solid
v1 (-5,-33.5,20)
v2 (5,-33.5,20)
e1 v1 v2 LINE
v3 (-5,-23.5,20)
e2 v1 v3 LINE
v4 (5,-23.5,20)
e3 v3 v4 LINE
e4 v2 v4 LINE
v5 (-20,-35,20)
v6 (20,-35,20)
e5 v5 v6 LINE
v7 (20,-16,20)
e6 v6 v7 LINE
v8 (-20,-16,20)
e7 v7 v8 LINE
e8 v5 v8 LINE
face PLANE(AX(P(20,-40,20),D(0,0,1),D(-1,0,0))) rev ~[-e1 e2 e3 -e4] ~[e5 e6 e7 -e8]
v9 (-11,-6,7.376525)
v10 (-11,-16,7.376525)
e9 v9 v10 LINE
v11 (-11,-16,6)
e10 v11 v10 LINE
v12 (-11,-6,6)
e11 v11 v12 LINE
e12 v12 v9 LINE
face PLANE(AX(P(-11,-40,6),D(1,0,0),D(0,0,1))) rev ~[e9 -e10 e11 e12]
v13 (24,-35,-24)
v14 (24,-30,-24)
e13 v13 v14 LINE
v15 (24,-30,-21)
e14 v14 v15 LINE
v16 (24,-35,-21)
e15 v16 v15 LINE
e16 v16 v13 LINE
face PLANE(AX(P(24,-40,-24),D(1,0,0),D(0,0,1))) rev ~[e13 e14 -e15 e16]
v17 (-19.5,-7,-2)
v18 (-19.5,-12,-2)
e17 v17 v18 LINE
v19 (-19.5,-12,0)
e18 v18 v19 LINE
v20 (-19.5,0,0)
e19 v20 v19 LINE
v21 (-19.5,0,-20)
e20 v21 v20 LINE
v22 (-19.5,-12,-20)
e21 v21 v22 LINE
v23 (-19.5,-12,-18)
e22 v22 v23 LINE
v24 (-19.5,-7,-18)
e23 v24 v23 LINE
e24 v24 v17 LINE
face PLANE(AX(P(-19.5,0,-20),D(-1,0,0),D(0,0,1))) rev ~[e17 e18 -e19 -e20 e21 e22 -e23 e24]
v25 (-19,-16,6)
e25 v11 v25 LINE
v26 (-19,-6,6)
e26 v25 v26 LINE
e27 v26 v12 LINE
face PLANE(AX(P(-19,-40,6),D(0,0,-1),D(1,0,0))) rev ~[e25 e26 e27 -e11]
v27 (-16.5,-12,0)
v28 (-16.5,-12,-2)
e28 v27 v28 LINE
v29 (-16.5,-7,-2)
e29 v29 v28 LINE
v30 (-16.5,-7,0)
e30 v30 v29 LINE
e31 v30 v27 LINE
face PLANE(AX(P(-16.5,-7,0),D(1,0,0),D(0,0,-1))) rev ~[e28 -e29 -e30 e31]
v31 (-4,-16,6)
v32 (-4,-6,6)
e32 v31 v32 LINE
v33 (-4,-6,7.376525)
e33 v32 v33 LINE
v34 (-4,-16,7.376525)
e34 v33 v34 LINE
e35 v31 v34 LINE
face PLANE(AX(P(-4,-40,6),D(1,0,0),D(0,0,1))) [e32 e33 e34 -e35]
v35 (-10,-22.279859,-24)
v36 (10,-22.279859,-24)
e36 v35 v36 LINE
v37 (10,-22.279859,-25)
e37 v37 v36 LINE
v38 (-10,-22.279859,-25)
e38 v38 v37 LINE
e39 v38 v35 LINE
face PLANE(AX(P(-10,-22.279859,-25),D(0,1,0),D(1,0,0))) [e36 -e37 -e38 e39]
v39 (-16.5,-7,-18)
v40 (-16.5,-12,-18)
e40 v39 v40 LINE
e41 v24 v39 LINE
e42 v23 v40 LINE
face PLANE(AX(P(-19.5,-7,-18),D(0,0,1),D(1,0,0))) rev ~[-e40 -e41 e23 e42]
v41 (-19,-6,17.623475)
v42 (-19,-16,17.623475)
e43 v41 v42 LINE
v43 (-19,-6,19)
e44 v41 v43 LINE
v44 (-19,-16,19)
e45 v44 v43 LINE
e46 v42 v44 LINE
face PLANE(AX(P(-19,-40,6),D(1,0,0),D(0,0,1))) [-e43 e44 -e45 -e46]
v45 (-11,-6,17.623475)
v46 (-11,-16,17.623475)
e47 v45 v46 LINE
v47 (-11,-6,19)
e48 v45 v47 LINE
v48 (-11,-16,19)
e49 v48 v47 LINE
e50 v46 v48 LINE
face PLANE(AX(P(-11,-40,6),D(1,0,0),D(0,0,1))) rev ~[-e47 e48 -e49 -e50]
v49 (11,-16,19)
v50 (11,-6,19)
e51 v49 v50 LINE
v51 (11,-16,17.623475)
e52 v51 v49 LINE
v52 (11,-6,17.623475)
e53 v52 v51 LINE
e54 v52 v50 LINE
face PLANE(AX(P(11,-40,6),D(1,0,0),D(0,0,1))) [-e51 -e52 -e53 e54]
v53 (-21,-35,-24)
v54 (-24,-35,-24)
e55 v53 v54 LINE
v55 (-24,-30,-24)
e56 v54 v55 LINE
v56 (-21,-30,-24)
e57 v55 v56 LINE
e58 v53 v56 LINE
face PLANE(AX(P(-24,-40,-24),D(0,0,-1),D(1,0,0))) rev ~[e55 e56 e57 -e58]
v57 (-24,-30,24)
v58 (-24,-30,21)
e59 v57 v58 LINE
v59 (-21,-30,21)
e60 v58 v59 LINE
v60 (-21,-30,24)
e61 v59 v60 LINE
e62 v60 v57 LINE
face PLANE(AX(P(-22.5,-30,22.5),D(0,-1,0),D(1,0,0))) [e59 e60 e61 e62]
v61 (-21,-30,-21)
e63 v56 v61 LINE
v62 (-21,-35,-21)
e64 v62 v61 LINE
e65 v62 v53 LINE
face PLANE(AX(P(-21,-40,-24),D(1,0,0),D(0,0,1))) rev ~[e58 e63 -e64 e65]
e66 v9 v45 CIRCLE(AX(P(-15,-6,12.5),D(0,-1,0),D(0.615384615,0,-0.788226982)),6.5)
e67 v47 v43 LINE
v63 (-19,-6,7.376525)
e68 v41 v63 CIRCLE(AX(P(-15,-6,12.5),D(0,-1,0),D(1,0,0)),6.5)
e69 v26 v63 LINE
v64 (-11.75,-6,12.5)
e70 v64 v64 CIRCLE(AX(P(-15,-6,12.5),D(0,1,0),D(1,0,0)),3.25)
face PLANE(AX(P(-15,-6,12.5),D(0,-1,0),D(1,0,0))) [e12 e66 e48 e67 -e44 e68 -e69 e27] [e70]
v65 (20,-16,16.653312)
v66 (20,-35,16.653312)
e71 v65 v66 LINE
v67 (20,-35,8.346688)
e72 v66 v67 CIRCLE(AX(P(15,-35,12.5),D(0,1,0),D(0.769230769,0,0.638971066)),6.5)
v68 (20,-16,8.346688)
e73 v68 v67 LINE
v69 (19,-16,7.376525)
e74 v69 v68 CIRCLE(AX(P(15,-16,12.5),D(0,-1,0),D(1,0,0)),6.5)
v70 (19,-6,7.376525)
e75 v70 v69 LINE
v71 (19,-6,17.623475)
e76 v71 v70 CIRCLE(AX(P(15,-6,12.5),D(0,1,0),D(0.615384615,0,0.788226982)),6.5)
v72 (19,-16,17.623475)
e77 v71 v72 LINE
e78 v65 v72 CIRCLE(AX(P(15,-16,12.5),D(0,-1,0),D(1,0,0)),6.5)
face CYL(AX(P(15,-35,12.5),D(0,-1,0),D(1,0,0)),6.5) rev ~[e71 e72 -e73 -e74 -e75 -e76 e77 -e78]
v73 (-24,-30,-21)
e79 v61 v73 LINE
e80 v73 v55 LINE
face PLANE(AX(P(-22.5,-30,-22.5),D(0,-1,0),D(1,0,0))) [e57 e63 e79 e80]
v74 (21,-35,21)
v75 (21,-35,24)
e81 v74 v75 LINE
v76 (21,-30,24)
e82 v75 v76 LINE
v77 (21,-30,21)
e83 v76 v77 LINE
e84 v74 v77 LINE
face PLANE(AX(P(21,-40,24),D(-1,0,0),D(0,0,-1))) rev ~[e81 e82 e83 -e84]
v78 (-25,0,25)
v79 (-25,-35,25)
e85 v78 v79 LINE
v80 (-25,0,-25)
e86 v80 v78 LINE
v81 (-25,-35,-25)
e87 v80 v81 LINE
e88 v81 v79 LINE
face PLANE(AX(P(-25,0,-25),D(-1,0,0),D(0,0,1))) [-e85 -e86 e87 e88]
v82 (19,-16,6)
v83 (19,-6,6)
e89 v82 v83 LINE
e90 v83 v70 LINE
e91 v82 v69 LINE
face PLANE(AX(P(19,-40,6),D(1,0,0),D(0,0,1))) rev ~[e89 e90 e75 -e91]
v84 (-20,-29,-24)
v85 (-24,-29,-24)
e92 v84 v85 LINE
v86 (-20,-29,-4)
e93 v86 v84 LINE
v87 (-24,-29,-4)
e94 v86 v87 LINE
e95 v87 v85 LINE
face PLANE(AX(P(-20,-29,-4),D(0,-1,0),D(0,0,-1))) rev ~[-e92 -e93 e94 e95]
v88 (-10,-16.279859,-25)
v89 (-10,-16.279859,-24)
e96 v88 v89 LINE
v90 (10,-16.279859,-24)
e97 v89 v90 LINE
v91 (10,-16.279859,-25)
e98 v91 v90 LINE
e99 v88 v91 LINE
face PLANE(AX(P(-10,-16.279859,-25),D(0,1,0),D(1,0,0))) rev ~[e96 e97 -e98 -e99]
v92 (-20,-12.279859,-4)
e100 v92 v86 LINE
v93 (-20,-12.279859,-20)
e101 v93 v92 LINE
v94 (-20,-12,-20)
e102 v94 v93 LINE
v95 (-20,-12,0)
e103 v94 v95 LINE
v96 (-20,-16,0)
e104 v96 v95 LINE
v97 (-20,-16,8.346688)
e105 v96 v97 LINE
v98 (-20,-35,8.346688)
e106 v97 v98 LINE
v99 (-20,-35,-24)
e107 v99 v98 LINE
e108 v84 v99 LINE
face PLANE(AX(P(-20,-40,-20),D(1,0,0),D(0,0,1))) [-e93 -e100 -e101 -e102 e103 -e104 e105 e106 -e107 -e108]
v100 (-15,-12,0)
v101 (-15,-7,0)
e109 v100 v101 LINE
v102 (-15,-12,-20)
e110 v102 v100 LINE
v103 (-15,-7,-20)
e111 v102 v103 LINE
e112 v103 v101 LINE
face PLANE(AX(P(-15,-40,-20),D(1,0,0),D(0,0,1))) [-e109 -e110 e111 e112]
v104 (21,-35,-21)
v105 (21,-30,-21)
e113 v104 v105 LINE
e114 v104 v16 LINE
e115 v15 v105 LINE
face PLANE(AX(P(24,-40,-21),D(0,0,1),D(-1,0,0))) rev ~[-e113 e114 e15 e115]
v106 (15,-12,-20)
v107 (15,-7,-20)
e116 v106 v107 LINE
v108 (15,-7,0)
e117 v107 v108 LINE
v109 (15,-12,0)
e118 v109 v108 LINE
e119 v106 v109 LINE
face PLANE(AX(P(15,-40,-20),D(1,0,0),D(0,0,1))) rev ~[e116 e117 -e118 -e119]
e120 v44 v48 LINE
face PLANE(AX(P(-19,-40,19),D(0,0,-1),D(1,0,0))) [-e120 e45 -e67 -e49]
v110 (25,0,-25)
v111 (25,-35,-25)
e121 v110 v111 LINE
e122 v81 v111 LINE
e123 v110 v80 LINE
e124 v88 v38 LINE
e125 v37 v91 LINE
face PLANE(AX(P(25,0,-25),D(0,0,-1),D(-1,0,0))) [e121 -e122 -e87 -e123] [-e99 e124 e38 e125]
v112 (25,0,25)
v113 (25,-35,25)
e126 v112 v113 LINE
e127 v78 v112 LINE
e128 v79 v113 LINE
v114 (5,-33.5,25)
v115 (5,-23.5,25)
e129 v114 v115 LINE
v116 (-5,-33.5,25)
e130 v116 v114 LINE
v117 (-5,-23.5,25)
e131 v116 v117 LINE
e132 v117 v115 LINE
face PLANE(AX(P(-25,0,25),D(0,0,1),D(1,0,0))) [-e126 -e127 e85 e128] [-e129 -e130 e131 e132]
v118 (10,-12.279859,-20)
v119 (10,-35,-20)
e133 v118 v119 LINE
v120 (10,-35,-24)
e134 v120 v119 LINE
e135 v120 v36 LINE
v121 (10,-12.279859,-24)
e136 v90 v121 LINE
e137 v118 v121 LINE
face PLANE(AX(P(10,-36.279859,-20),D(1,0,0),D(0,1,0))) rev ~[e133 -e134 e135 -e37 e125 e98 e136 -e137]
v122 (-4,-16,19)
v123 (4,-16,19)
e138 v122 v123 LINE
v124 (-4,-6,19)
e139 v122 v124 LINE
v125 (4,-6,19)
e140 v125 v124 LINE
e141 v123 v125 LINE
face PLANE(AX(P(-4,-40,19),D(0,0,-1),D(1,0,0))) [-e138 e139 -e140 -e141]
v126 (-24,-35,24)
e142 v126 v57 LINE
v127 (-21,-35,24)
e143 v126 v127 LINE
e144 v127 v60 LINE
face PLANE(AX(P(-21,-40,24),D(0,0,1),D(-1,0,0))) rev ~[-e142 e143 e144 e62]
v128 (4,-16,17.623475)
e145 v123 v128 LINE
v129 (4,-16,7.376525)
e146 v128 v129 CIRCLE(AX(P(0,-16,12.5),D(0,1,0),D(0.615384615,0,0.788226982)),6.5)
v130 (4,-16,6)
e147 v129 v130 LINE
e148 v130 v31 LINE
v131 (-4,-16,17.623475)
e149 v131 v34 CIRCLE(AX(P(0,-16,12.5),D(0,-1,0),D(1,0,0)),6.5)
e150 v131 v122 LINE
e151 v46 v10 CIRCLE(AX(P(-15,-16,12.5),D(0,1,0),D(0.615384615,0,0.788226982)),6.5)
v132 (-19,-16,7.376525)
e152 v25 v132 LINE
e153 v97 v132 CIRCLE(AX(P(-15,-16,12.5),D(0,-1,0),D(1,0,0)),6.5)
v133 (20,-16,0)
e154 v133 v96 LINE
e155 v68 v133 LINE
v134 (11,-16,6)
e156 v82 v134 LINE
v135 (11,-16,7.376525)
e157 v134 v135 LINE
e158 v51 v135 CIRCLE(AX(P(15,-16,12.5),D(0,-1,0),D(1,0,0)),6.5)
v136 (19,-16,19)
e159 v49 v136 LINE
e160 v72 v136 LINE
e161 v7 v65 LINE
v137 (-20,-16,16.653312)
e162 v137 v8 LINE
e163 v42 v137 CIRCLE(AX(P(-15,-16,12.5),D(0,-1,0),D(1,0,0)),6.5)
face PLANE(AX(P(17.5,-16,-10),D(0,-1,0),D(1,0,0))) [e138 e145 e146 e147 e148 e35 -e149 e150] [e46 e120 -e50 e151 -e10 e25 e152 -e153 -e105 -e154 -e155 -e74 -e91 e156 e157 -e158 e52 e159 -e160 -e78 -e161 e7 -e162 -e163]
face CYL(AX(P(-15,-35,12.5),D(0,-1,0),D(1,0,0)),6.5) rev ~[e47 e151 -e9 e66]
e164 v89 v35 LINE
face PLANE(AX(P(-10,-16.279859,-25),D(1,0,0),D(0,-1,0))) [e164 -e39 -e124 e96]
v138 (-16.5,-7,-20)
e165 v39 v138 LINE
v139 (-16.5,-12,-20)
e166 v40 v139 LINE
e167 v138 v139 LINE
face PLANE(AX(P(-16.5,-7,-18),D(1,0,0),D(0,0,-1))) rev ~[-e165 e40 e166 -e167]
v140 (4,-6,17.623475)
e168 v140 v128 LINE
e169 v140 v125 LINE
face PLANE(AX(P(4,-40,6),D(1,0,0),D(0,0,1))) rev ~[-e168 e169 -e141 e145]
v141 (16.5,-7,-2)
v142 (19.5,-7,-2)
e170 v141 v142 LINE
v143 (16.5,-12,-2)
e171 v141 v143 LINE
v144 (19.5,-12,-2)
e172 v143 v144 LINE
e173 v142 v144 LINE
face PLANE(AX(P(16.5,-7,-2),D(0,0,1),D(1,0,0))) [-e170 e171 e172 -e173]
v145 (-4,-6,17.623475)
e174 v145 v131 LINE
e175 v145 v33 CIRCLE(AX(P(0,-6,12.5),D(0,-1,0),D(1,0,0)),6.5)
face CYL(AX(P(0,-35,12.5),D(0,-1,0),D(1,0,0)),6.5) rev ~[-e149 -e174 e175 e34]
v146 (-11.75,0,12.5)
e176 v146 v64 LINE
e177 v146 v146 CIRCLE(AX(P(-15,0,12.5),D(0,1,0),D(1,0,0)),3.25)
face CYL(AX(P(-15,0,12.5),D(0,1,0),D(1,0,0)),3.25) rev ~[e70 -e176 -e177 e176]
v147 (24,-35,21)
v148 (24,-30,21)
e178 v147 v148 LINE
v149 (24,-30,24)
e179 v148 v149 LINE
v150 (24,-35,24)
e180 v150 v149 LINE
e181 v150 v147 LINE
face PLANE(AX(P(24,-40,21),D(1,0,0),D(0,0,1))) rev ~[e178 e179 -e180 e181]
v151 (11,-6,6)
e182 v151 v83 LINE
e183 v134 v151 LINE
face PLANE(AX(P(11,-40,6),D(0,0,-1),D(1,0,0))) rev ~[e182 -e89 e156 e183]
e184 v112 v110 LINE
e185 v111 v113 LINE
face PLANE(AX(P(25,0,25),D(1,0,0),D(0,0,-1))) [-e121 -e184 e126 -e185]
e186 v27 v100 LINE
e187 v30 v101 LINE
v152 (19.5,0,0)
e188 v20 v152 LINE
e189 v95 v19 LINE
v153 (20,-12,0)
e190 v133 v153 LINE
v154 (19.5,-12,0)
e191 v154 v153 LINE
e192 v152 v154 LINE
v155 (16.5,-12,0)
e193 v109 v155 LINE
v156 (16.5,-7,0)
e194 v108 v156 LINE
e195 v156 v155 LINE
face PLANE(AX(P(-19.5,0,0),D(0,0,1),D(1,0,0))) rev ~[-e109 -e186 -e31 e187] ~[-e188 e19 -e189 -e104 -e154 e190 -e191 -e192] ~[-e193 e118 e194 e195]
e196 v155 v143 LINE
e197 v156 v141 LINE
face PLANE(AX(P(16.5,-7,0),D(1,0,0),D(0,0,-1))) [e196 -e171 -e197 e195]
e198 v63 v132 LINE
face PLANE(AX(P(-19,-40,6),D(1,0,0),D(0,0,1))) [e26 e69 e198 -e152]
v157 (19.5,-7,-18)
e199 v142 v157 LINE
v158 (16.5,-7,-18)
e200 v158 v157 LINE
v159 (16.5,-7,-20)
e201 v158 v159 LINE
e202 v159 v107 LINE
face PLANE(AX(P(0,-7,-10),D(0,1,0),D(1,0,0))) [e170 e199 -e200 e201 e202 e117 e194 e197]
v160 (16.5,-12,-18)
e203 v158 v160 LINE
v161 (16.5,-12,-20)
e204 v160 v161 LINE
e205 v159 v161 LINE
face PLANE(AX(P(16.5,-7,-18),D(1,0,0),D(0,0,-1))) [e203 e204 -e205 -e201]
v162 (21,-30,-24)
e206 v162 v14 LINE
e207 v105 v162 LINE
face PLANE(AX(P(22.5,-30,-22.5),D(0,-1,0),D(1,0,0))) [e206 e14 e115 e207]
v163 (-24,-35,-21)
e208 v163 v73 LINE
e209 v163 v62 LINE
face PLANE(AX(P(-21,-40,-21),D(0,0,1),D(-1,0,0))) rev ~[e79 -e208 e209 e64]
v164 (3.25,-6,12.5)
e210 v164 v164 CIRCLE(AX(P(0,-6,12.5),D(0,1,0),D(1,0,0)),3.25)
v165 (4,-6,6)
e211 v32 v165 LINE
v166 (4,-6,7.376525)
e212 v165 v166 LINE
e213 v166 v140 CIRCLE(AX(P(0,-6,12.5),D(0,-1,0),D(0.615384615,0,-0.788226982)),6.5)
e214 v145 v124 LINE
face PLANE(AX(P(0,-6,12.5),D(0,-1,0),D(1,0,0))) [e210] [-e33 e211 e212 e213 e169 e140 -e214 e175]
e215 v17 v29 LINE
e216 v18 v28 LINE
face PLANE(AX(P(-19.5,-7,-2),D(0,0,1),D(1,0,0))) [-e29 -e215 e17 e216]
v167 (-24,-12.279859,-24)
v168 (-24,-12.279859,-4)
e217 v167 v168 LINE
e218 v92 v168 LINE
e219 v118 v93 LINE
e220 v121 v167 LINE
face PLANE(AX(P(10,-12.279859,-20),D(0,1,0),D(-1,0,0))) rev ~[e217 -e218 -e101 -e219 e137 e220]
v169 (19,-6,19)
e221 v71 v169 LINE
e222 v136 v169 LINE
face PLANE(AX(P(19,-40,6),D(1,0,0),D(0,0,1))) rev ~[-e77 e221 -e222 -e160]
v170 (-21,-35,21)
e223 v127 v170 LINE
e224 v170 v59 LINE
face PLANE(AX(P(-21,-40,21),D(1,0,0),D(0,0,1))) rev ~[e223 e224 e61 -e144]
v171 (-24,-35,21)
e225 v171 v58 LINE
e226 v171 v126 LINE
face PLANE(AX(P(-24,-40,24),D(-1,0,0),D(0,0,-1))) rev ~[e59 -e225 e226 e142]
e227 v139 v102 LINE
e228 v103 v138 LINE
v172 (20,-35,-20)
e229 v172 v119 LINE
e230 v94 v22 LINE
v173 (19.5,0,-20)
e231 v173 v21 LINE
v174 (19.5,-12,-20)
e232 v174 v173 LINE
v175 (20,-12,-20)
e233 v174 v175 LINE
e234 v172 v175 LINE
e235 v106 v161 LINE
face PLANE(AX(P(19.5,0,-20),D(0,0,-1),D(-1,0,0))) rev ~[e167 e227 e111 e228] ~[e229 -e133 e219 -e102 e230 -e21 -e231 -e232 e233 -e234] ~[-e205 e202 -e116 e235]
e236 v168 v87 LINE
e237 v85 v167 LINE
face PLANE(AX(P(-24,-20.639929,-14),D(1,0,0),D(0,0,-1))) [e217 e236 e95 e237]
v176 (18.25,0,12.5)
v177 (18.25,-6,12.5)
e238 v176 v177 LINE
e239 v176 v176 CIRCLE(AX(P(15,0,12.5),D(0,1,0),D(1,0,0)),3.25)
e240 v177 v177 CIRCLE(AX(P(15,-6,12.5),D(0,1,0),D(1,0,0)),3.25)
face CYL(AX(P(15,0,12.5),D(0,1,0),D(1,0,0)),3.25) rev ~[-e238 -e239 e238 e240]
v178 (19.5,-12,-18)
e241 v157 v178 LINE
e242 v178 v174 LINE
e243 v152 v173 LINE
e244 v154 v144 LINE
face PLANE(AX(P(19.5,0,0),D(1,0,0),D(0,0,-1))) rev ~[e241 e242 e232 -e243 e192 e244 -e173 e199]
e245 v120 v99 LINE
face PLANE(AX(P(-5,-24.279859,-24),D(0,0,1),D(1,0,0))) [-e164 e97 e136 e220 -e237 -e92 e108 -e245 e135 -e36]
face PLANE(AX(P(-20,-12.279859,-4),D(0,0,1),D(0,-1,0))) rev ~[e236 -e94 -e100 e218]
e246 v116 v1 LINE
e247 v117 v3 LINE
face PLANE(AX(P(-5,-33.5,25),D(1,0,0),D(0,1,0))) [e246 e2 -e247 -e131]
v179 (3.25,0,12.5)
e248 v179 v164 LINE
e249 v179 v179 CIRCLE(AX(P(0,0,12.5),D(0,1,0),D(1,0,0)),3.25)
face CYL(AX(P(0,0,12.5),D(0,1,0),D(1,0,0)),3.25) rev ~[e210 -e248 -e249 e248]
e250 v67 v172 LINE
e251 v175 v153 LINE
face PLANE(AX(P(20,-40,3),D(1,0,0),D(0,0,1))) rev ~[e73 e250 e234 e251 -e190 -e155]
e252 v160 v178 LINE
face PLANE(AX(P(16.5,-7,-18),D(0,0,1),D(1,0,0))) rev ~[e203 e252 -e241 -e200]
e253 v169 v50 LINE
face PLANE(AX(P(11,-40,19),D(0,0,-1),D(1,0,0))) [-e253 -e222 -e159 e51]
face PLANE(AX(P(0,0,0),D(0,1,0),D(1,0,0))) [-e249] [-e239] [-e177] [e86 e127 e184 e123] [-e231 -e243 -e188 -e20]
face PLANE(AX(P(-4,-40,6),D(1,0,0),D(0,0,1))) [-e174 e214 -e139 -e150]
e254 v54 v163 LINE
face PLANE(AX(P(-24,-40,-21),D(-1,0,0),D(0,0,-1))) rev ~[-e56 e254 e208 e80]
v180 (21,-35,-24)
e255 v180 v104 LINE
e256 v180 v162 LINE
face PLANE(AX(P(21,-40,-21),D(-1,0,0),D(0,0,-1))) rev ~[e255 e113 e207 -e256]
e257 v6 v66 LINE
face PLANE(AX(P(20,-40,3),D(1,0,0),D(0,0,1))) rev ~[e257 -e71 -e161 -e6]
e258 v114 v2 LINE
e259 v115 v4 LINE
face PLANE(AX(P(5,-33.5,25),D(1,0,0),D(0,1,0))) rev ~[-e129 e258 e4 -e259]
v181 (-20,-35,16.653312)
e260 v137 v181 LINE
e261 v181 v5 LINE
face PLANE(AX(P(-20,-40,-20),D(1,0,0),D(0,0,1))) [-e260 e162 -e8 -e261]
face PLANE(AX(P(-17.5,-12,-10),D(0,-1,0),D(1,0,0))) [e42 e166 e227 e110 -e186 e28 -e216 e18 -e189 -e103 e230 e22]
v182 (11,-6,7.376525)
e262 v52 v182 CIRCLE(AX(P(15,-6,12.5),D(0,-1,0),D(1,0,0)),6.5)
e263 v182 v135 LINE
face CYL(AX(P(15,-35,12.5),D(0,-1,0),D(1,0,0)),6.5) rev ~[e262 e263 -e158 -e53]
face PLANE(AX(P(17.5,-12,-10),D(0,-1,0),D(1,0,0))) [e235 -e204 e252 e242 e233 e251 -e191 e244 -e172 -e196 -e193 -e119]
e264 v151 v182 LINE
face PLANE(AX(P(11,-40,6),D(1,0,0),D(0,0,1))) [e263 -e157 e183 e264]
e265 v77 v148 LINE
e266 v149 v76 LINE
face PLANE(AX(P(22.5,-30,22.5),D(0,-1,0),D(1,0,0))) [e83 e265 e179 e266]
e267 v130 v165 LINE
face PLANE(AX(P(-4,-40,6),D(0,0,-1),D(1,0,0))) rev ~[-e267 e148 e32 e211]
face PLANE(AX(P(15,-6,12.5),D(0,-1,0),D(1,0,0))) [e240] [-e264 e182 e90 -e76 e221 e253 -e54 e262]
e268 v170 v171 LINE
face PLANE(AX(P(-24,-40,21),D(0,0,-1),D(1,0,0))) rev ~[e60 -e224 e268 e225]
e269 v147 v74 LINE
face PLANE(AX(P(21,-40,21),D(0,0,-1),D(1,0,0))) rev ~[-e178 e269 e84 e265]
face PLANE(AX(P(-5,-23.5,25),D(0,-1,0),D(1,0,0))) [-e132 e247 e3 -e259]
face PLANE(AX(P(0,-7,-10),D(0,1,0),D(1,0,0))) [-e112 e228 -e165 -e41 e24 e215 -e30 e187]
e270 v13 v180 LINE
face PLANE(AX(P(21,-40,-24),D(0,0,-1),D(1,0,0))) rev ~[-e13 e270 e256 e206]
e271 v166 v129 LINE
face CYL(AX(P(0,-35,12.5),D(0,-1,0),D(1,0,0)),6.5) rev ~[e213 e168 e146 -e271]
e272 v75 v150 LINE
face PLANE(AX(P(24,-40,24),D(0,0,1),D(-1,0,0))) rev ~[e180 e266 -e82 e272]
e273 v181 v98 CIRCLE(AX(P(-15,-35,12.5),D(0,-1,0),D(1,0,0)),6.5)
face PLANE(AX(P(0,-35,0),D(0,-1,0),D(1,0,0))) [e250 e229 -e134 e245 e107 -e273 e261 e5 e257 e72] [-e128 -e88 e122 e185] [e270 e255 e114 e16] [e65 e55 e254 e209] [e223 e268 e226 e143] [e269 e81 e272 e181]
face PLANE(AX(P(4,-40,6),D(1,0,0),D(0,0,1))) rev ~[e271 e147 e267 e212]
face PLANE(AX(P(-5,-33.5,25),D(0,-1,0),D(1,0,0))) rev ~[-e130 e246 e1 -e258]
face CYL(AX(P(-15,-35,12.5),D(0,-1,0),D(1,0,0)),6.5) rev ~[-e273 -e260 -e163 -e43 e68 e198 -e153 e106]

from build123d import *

# Parameters (mm, degrees)
BOSS_EXTRUDE1_DEPTH = 40
SKETCH4_R           = 3.25
CUT_EXTRUDE1_DEPTH  = 6
SKETCH5_W           = 8
SKETCH5_H           = 13
CUT_EXTRUDE2_DEPTH  = 34
SKETCH6_W           = 8
SKETCH6_H           = 13
CUT_EXTRUDE3_DEPTH  = 24
CUT_EXTRUDE4_DEPTH  = 7
SKETCH8_W           = 30
SKETCH8_H           = 20
CUT_EXTRUDE5_DEPTH  = 33
SKETCH8_3_W         = 5
SKETCH8_3_H         = 20
CUT_EXTRUDE6_DEPTH  = 24
CUT_EXTRUDE7_DEPTH  = 24
SKETCH7_W           = 3
SKETCH7_H           = 2
CUT_EXTRUDE8_DEPTH  = 10
CUT_EXTRUDE9_DEPTH  = 10
SKETCH12_W          = 50
SKETCH12_H          = 50
CUT_EXTRUDE10_DEPTH = 5
SKETCH16_W          = 5
SKETCH16_H          = 20
CUT_EXTRUDE11_DEPTH = 4
CUT_EXTRUDE12_DEPTH = 5
CUT_EXTRUDE13_DEPTH = 4
CUT_EXTRUDE14_DEPTH = 4
SKETCH11_W          = 10
SKETCH11_H          = 10
CUT_EXTRUDE15_DEPTH = 5
SKETCH20_R          = 6.5
CUT_EXTRUDE16_DEPTH = 29


with BuildPart() as part:
    # Sketch2 → Boss-Extrude1 (new body)
    with BuildSketch(Plane(origin=(0, 0, 0), x_dir=(1, 0, 0), z_dir=(0, 1, 0))):
        Polygon((0, 25), (-25, 25), (-25, -25), (25, -25), (25, 25), align=None)
    extrude(amount=-BOSS_EXTRUDE1_DEPTH)

    # Sketch4 → Cut-Extrude1 (cut)
    with BuildSketch(Plane(origin=(0, 0, 0), x_dir=(1, 0, 0), z_dir=(0, 1, 0))):
        with Locations((0, -12.5)):
            Circle(SKETCH4_R)
        with Locations((15, -12.5)):
            Circle(SKETCH4_R)
        with Locations((-15, -12.5)):
            Circle(SKETCH4_R)
    extrude(amount=-CUT_EXTRUDE1_DEPTH, mode=Mode.SUBTRACT)

    # Sketch5 → Cut-Extrude2 (cut)
    with BuildSketch(Plane.XZ.offset(40)):
        with Locations((-15, 12.5)):
            Rectangle(SKETCH5_W, SKETCH5_H)
        with Locations((0, 12.5)):
            Rectangle(SKETCH5_W, SKETCH5_H)
        with Locations((15, 12.5)):
            Rectangle(SKETCH5_W, SKETCH5_H)
    extrude(amount=-CUT_EXTRUDE2_DEPTH, mode=Mode.SUBTRACT)

    # Sketch6 → Cut-Extrude3 (cut)
    with BuildSketch(Plane.XZ.offset(40)):
        Polygon((-20, 20), (-20, 3), (0, 3), (20, 3), (20, 20), align=None)
        with Locations((-15, 12.5)):
            Rectangle(SKETCH6_W, SKETCH6_H, mode=Mode.SUBTRACT)
        Polygon((4, 6), (0, 6), (-4, 6), (-4, 19), (4, 19), align=None, mode=Mode.SUBTRACT)
        with Locations((15, 12.5)):
            Rectangle(SKETCH6_W, SKETCH6_H, mode=Mode.SUBTRACT)
    extrude(amount=-CUT_EXTRUDE3_DEPTH, mode=Mode.SUBTRACT)

    # Sketch3 → Cut-Extrude4 (cut)
    with BuildSketch(Plane(origin=(0, 0, 0), x_dir=(1, 0, 0), z_dir=(0, 1, 0))):
        Polygon((19.5, 20), (0, 20), (-19.5, 20), (-19.5, 0), (19.5, 0), align=None)
    extrude(amount=-CUT_EXTRUDE4_DEPTH, mode=Mode.SUBTRACT)

    # Sketch8 → Cut-Extrude5 (cut)
    with BuildSketch(Plane.XZ.offset(40)):
        with Locations((0, -10)):
            Rectangle(SKETCH8_W, SKETCH8_H)
    extrude(amount=-CUT_EXTRUDE5_DEPTH, mode=Mode.SUBTRACT)

    # Sketch8<3> → Cut-Extrude6 (cut)
    with BuildSketch(Plane.XZ.offset(40)):
        with Locations((-17.5, -10)):
            Rectangle(SKETCH8_3_W, SKETCH8_3_H)
        with Locations((17.5, -10)):
            Rectangle(SKETCH8_3_W, SKETCH8_3_H)
    extrude(amount=-CUT_EXTRUDE6_DEPTH, mode=Mode.SUBTRACT)

    # Sketch8<4> → Cut-Extrude7 (cut)
    with BuildSketch(Plane.XZ.offset(40)):
        Polygon((20, 3), (-20, 3), (-20, 0), (-15, 0), (0, 0), (15, 0), (20, 0), align=None)
    extrude(amount=-CUT_EXTRUDE7_DEPTH, mode=Mode.SUBTRACT)

    # Sketch7 → Cut-Extrude8 (cut)
    with BuildSketch(Plane(origin=(0, -7, 0), x_dir=(1, 0, 0), z_dir=(0, 1, 0))):
        with Locations((-18, 19)):
            Rectangle(SKETCH7_W, SKETCH7_H)
        with Locations((-18, 1)):
            Rectangle(SKETCH7_W, SKETCH7_H)
        with Locations((18, 1)):
            Rectangle(SKETCH7_W, SKETCH7_H)
        with Locations((18, 19)):
            Rectangle(SKETCH7_W, SKETCH7_H)
    extrude(amount=-CUT_EXTRUDE8_DEPTH, mode=Mode.SUBTRACT)

    # Sketch9 → Cut-Extrude9 (cut)
    with BuildSketch(Plane.XZ.offset(40)):
        Polygon((-24, 24), (-24, 22.5), (-24, 21), (-21, 21), (-21, 24), align=None)
        Polygon((-21, -24), (-21, -22.5), (-21, -21), (-24, -21), (-24, -24), align=None)
        Polygon((21, -21), (21, -22.5), (21, -24), (24, -24), (24, -21), align=None)
        Polygon((24, 21), (24, 22.5), (24, 24), (21, 24), (21, 21), align=None)
    extrude(amount=-CUT_EXTRUDE9_DEPTH, mode=Mode.SUBTRACT)

    # Sketch12 → Cut-Extrude10 (cut)
    with BuildSketch(Plane.XZ.offset(40)):
        Rectangle(SKETCH12_W, SKETCH12_H)
    extrude(amount=-CUT_EXTRUDE10_DEPTH, mode=Mode.SUBTRACT)

    # Sketch16 → Cut-Extrude11 (cut)
    with BuildSketch(Plane.XZ.offset(16)):
        with Locations((17.5, -10)):
            Rectangle(SKETCH16_W, SKETCH16_H)
        with Locations((-17.5, -10)):
            Rectangle(SKETCH16_W, SKETCH16_H)
    extrude(amount=-CUT_EXTRUDE11_DEPTH, mode=Mode.SUBTRACT)

    # Sketch13 → Cut-Extrude12 (cut)
    with BuildSketch(Plane(origin=(0, 0, -25), x_dir=(-1, 0, 0), z_dir=(0, 0, -1))):
        Polygon((0, -16.279858657), (10, -16.279858657), (10, -22.279858657), (-10, -22.279858657), (-10, -16.279858657), align=None)
    extrude(amount=-CUT_EXTRUDE12_DEPTH, mode=Mode.SUBTRACT)

    # Sketch14 → Cut-Extrude13 (cut)
    with BuildSketch(Plane.XY.offset(-20)):
        Polygon((10, -19.279858657), (10, -12.279858657), (-20, -12.279858657), (-20, -36.279858657), (10, -36.279858657), align=None)
    extrude(amount=-CUT_EXTRUDE13_DEPTH, mode=Mode.SUBTRACT)

    # Sketch18 → Cut-Extrude14 (cut)
    with BuildSketch(Plane(origin=(-20, 0, 0), x_dir=(0, 0, -1), z_dir=(1, 0, 0))):
        Polygon((4, -29), (24, -29), (24, -12.279858657), (20, -12.279858657), (4, -12.279858657), align=None)
    extrude(amount=-CUT_EXTRUDE14_DEPTH, mode=Mode.SUBTRACT)

    # Sketch11 → Cut-Extrude15 (cut)
    with BuildSketch(Plane.XY.offset(25)):
        with Locations((0, -28.5)):
            Rectangle(SKETCH11_W, SKETCH11_H)
    extrude(amount=-CUT_EXTRUDE15_DEPTH, mode=Mode.SUBTRACT)

    # Sketch20 → Cut-Extrude16 (cut)
    with BuildSketch(Plane.XZ.offset(35)):
        with Locations((15, 12.5)):
            Circle(SKETCH20_R)
        with Locations((0, 12.5)):
            Circle(SKETCH20_R)
        with Locations((-15, 12.5)):
            Circle(SKETCH20_R)
    extrude(amount=-CUT_EXTRUDE16_DEPTH, mode=Mode.SUBTRACT)


solid = part.part
